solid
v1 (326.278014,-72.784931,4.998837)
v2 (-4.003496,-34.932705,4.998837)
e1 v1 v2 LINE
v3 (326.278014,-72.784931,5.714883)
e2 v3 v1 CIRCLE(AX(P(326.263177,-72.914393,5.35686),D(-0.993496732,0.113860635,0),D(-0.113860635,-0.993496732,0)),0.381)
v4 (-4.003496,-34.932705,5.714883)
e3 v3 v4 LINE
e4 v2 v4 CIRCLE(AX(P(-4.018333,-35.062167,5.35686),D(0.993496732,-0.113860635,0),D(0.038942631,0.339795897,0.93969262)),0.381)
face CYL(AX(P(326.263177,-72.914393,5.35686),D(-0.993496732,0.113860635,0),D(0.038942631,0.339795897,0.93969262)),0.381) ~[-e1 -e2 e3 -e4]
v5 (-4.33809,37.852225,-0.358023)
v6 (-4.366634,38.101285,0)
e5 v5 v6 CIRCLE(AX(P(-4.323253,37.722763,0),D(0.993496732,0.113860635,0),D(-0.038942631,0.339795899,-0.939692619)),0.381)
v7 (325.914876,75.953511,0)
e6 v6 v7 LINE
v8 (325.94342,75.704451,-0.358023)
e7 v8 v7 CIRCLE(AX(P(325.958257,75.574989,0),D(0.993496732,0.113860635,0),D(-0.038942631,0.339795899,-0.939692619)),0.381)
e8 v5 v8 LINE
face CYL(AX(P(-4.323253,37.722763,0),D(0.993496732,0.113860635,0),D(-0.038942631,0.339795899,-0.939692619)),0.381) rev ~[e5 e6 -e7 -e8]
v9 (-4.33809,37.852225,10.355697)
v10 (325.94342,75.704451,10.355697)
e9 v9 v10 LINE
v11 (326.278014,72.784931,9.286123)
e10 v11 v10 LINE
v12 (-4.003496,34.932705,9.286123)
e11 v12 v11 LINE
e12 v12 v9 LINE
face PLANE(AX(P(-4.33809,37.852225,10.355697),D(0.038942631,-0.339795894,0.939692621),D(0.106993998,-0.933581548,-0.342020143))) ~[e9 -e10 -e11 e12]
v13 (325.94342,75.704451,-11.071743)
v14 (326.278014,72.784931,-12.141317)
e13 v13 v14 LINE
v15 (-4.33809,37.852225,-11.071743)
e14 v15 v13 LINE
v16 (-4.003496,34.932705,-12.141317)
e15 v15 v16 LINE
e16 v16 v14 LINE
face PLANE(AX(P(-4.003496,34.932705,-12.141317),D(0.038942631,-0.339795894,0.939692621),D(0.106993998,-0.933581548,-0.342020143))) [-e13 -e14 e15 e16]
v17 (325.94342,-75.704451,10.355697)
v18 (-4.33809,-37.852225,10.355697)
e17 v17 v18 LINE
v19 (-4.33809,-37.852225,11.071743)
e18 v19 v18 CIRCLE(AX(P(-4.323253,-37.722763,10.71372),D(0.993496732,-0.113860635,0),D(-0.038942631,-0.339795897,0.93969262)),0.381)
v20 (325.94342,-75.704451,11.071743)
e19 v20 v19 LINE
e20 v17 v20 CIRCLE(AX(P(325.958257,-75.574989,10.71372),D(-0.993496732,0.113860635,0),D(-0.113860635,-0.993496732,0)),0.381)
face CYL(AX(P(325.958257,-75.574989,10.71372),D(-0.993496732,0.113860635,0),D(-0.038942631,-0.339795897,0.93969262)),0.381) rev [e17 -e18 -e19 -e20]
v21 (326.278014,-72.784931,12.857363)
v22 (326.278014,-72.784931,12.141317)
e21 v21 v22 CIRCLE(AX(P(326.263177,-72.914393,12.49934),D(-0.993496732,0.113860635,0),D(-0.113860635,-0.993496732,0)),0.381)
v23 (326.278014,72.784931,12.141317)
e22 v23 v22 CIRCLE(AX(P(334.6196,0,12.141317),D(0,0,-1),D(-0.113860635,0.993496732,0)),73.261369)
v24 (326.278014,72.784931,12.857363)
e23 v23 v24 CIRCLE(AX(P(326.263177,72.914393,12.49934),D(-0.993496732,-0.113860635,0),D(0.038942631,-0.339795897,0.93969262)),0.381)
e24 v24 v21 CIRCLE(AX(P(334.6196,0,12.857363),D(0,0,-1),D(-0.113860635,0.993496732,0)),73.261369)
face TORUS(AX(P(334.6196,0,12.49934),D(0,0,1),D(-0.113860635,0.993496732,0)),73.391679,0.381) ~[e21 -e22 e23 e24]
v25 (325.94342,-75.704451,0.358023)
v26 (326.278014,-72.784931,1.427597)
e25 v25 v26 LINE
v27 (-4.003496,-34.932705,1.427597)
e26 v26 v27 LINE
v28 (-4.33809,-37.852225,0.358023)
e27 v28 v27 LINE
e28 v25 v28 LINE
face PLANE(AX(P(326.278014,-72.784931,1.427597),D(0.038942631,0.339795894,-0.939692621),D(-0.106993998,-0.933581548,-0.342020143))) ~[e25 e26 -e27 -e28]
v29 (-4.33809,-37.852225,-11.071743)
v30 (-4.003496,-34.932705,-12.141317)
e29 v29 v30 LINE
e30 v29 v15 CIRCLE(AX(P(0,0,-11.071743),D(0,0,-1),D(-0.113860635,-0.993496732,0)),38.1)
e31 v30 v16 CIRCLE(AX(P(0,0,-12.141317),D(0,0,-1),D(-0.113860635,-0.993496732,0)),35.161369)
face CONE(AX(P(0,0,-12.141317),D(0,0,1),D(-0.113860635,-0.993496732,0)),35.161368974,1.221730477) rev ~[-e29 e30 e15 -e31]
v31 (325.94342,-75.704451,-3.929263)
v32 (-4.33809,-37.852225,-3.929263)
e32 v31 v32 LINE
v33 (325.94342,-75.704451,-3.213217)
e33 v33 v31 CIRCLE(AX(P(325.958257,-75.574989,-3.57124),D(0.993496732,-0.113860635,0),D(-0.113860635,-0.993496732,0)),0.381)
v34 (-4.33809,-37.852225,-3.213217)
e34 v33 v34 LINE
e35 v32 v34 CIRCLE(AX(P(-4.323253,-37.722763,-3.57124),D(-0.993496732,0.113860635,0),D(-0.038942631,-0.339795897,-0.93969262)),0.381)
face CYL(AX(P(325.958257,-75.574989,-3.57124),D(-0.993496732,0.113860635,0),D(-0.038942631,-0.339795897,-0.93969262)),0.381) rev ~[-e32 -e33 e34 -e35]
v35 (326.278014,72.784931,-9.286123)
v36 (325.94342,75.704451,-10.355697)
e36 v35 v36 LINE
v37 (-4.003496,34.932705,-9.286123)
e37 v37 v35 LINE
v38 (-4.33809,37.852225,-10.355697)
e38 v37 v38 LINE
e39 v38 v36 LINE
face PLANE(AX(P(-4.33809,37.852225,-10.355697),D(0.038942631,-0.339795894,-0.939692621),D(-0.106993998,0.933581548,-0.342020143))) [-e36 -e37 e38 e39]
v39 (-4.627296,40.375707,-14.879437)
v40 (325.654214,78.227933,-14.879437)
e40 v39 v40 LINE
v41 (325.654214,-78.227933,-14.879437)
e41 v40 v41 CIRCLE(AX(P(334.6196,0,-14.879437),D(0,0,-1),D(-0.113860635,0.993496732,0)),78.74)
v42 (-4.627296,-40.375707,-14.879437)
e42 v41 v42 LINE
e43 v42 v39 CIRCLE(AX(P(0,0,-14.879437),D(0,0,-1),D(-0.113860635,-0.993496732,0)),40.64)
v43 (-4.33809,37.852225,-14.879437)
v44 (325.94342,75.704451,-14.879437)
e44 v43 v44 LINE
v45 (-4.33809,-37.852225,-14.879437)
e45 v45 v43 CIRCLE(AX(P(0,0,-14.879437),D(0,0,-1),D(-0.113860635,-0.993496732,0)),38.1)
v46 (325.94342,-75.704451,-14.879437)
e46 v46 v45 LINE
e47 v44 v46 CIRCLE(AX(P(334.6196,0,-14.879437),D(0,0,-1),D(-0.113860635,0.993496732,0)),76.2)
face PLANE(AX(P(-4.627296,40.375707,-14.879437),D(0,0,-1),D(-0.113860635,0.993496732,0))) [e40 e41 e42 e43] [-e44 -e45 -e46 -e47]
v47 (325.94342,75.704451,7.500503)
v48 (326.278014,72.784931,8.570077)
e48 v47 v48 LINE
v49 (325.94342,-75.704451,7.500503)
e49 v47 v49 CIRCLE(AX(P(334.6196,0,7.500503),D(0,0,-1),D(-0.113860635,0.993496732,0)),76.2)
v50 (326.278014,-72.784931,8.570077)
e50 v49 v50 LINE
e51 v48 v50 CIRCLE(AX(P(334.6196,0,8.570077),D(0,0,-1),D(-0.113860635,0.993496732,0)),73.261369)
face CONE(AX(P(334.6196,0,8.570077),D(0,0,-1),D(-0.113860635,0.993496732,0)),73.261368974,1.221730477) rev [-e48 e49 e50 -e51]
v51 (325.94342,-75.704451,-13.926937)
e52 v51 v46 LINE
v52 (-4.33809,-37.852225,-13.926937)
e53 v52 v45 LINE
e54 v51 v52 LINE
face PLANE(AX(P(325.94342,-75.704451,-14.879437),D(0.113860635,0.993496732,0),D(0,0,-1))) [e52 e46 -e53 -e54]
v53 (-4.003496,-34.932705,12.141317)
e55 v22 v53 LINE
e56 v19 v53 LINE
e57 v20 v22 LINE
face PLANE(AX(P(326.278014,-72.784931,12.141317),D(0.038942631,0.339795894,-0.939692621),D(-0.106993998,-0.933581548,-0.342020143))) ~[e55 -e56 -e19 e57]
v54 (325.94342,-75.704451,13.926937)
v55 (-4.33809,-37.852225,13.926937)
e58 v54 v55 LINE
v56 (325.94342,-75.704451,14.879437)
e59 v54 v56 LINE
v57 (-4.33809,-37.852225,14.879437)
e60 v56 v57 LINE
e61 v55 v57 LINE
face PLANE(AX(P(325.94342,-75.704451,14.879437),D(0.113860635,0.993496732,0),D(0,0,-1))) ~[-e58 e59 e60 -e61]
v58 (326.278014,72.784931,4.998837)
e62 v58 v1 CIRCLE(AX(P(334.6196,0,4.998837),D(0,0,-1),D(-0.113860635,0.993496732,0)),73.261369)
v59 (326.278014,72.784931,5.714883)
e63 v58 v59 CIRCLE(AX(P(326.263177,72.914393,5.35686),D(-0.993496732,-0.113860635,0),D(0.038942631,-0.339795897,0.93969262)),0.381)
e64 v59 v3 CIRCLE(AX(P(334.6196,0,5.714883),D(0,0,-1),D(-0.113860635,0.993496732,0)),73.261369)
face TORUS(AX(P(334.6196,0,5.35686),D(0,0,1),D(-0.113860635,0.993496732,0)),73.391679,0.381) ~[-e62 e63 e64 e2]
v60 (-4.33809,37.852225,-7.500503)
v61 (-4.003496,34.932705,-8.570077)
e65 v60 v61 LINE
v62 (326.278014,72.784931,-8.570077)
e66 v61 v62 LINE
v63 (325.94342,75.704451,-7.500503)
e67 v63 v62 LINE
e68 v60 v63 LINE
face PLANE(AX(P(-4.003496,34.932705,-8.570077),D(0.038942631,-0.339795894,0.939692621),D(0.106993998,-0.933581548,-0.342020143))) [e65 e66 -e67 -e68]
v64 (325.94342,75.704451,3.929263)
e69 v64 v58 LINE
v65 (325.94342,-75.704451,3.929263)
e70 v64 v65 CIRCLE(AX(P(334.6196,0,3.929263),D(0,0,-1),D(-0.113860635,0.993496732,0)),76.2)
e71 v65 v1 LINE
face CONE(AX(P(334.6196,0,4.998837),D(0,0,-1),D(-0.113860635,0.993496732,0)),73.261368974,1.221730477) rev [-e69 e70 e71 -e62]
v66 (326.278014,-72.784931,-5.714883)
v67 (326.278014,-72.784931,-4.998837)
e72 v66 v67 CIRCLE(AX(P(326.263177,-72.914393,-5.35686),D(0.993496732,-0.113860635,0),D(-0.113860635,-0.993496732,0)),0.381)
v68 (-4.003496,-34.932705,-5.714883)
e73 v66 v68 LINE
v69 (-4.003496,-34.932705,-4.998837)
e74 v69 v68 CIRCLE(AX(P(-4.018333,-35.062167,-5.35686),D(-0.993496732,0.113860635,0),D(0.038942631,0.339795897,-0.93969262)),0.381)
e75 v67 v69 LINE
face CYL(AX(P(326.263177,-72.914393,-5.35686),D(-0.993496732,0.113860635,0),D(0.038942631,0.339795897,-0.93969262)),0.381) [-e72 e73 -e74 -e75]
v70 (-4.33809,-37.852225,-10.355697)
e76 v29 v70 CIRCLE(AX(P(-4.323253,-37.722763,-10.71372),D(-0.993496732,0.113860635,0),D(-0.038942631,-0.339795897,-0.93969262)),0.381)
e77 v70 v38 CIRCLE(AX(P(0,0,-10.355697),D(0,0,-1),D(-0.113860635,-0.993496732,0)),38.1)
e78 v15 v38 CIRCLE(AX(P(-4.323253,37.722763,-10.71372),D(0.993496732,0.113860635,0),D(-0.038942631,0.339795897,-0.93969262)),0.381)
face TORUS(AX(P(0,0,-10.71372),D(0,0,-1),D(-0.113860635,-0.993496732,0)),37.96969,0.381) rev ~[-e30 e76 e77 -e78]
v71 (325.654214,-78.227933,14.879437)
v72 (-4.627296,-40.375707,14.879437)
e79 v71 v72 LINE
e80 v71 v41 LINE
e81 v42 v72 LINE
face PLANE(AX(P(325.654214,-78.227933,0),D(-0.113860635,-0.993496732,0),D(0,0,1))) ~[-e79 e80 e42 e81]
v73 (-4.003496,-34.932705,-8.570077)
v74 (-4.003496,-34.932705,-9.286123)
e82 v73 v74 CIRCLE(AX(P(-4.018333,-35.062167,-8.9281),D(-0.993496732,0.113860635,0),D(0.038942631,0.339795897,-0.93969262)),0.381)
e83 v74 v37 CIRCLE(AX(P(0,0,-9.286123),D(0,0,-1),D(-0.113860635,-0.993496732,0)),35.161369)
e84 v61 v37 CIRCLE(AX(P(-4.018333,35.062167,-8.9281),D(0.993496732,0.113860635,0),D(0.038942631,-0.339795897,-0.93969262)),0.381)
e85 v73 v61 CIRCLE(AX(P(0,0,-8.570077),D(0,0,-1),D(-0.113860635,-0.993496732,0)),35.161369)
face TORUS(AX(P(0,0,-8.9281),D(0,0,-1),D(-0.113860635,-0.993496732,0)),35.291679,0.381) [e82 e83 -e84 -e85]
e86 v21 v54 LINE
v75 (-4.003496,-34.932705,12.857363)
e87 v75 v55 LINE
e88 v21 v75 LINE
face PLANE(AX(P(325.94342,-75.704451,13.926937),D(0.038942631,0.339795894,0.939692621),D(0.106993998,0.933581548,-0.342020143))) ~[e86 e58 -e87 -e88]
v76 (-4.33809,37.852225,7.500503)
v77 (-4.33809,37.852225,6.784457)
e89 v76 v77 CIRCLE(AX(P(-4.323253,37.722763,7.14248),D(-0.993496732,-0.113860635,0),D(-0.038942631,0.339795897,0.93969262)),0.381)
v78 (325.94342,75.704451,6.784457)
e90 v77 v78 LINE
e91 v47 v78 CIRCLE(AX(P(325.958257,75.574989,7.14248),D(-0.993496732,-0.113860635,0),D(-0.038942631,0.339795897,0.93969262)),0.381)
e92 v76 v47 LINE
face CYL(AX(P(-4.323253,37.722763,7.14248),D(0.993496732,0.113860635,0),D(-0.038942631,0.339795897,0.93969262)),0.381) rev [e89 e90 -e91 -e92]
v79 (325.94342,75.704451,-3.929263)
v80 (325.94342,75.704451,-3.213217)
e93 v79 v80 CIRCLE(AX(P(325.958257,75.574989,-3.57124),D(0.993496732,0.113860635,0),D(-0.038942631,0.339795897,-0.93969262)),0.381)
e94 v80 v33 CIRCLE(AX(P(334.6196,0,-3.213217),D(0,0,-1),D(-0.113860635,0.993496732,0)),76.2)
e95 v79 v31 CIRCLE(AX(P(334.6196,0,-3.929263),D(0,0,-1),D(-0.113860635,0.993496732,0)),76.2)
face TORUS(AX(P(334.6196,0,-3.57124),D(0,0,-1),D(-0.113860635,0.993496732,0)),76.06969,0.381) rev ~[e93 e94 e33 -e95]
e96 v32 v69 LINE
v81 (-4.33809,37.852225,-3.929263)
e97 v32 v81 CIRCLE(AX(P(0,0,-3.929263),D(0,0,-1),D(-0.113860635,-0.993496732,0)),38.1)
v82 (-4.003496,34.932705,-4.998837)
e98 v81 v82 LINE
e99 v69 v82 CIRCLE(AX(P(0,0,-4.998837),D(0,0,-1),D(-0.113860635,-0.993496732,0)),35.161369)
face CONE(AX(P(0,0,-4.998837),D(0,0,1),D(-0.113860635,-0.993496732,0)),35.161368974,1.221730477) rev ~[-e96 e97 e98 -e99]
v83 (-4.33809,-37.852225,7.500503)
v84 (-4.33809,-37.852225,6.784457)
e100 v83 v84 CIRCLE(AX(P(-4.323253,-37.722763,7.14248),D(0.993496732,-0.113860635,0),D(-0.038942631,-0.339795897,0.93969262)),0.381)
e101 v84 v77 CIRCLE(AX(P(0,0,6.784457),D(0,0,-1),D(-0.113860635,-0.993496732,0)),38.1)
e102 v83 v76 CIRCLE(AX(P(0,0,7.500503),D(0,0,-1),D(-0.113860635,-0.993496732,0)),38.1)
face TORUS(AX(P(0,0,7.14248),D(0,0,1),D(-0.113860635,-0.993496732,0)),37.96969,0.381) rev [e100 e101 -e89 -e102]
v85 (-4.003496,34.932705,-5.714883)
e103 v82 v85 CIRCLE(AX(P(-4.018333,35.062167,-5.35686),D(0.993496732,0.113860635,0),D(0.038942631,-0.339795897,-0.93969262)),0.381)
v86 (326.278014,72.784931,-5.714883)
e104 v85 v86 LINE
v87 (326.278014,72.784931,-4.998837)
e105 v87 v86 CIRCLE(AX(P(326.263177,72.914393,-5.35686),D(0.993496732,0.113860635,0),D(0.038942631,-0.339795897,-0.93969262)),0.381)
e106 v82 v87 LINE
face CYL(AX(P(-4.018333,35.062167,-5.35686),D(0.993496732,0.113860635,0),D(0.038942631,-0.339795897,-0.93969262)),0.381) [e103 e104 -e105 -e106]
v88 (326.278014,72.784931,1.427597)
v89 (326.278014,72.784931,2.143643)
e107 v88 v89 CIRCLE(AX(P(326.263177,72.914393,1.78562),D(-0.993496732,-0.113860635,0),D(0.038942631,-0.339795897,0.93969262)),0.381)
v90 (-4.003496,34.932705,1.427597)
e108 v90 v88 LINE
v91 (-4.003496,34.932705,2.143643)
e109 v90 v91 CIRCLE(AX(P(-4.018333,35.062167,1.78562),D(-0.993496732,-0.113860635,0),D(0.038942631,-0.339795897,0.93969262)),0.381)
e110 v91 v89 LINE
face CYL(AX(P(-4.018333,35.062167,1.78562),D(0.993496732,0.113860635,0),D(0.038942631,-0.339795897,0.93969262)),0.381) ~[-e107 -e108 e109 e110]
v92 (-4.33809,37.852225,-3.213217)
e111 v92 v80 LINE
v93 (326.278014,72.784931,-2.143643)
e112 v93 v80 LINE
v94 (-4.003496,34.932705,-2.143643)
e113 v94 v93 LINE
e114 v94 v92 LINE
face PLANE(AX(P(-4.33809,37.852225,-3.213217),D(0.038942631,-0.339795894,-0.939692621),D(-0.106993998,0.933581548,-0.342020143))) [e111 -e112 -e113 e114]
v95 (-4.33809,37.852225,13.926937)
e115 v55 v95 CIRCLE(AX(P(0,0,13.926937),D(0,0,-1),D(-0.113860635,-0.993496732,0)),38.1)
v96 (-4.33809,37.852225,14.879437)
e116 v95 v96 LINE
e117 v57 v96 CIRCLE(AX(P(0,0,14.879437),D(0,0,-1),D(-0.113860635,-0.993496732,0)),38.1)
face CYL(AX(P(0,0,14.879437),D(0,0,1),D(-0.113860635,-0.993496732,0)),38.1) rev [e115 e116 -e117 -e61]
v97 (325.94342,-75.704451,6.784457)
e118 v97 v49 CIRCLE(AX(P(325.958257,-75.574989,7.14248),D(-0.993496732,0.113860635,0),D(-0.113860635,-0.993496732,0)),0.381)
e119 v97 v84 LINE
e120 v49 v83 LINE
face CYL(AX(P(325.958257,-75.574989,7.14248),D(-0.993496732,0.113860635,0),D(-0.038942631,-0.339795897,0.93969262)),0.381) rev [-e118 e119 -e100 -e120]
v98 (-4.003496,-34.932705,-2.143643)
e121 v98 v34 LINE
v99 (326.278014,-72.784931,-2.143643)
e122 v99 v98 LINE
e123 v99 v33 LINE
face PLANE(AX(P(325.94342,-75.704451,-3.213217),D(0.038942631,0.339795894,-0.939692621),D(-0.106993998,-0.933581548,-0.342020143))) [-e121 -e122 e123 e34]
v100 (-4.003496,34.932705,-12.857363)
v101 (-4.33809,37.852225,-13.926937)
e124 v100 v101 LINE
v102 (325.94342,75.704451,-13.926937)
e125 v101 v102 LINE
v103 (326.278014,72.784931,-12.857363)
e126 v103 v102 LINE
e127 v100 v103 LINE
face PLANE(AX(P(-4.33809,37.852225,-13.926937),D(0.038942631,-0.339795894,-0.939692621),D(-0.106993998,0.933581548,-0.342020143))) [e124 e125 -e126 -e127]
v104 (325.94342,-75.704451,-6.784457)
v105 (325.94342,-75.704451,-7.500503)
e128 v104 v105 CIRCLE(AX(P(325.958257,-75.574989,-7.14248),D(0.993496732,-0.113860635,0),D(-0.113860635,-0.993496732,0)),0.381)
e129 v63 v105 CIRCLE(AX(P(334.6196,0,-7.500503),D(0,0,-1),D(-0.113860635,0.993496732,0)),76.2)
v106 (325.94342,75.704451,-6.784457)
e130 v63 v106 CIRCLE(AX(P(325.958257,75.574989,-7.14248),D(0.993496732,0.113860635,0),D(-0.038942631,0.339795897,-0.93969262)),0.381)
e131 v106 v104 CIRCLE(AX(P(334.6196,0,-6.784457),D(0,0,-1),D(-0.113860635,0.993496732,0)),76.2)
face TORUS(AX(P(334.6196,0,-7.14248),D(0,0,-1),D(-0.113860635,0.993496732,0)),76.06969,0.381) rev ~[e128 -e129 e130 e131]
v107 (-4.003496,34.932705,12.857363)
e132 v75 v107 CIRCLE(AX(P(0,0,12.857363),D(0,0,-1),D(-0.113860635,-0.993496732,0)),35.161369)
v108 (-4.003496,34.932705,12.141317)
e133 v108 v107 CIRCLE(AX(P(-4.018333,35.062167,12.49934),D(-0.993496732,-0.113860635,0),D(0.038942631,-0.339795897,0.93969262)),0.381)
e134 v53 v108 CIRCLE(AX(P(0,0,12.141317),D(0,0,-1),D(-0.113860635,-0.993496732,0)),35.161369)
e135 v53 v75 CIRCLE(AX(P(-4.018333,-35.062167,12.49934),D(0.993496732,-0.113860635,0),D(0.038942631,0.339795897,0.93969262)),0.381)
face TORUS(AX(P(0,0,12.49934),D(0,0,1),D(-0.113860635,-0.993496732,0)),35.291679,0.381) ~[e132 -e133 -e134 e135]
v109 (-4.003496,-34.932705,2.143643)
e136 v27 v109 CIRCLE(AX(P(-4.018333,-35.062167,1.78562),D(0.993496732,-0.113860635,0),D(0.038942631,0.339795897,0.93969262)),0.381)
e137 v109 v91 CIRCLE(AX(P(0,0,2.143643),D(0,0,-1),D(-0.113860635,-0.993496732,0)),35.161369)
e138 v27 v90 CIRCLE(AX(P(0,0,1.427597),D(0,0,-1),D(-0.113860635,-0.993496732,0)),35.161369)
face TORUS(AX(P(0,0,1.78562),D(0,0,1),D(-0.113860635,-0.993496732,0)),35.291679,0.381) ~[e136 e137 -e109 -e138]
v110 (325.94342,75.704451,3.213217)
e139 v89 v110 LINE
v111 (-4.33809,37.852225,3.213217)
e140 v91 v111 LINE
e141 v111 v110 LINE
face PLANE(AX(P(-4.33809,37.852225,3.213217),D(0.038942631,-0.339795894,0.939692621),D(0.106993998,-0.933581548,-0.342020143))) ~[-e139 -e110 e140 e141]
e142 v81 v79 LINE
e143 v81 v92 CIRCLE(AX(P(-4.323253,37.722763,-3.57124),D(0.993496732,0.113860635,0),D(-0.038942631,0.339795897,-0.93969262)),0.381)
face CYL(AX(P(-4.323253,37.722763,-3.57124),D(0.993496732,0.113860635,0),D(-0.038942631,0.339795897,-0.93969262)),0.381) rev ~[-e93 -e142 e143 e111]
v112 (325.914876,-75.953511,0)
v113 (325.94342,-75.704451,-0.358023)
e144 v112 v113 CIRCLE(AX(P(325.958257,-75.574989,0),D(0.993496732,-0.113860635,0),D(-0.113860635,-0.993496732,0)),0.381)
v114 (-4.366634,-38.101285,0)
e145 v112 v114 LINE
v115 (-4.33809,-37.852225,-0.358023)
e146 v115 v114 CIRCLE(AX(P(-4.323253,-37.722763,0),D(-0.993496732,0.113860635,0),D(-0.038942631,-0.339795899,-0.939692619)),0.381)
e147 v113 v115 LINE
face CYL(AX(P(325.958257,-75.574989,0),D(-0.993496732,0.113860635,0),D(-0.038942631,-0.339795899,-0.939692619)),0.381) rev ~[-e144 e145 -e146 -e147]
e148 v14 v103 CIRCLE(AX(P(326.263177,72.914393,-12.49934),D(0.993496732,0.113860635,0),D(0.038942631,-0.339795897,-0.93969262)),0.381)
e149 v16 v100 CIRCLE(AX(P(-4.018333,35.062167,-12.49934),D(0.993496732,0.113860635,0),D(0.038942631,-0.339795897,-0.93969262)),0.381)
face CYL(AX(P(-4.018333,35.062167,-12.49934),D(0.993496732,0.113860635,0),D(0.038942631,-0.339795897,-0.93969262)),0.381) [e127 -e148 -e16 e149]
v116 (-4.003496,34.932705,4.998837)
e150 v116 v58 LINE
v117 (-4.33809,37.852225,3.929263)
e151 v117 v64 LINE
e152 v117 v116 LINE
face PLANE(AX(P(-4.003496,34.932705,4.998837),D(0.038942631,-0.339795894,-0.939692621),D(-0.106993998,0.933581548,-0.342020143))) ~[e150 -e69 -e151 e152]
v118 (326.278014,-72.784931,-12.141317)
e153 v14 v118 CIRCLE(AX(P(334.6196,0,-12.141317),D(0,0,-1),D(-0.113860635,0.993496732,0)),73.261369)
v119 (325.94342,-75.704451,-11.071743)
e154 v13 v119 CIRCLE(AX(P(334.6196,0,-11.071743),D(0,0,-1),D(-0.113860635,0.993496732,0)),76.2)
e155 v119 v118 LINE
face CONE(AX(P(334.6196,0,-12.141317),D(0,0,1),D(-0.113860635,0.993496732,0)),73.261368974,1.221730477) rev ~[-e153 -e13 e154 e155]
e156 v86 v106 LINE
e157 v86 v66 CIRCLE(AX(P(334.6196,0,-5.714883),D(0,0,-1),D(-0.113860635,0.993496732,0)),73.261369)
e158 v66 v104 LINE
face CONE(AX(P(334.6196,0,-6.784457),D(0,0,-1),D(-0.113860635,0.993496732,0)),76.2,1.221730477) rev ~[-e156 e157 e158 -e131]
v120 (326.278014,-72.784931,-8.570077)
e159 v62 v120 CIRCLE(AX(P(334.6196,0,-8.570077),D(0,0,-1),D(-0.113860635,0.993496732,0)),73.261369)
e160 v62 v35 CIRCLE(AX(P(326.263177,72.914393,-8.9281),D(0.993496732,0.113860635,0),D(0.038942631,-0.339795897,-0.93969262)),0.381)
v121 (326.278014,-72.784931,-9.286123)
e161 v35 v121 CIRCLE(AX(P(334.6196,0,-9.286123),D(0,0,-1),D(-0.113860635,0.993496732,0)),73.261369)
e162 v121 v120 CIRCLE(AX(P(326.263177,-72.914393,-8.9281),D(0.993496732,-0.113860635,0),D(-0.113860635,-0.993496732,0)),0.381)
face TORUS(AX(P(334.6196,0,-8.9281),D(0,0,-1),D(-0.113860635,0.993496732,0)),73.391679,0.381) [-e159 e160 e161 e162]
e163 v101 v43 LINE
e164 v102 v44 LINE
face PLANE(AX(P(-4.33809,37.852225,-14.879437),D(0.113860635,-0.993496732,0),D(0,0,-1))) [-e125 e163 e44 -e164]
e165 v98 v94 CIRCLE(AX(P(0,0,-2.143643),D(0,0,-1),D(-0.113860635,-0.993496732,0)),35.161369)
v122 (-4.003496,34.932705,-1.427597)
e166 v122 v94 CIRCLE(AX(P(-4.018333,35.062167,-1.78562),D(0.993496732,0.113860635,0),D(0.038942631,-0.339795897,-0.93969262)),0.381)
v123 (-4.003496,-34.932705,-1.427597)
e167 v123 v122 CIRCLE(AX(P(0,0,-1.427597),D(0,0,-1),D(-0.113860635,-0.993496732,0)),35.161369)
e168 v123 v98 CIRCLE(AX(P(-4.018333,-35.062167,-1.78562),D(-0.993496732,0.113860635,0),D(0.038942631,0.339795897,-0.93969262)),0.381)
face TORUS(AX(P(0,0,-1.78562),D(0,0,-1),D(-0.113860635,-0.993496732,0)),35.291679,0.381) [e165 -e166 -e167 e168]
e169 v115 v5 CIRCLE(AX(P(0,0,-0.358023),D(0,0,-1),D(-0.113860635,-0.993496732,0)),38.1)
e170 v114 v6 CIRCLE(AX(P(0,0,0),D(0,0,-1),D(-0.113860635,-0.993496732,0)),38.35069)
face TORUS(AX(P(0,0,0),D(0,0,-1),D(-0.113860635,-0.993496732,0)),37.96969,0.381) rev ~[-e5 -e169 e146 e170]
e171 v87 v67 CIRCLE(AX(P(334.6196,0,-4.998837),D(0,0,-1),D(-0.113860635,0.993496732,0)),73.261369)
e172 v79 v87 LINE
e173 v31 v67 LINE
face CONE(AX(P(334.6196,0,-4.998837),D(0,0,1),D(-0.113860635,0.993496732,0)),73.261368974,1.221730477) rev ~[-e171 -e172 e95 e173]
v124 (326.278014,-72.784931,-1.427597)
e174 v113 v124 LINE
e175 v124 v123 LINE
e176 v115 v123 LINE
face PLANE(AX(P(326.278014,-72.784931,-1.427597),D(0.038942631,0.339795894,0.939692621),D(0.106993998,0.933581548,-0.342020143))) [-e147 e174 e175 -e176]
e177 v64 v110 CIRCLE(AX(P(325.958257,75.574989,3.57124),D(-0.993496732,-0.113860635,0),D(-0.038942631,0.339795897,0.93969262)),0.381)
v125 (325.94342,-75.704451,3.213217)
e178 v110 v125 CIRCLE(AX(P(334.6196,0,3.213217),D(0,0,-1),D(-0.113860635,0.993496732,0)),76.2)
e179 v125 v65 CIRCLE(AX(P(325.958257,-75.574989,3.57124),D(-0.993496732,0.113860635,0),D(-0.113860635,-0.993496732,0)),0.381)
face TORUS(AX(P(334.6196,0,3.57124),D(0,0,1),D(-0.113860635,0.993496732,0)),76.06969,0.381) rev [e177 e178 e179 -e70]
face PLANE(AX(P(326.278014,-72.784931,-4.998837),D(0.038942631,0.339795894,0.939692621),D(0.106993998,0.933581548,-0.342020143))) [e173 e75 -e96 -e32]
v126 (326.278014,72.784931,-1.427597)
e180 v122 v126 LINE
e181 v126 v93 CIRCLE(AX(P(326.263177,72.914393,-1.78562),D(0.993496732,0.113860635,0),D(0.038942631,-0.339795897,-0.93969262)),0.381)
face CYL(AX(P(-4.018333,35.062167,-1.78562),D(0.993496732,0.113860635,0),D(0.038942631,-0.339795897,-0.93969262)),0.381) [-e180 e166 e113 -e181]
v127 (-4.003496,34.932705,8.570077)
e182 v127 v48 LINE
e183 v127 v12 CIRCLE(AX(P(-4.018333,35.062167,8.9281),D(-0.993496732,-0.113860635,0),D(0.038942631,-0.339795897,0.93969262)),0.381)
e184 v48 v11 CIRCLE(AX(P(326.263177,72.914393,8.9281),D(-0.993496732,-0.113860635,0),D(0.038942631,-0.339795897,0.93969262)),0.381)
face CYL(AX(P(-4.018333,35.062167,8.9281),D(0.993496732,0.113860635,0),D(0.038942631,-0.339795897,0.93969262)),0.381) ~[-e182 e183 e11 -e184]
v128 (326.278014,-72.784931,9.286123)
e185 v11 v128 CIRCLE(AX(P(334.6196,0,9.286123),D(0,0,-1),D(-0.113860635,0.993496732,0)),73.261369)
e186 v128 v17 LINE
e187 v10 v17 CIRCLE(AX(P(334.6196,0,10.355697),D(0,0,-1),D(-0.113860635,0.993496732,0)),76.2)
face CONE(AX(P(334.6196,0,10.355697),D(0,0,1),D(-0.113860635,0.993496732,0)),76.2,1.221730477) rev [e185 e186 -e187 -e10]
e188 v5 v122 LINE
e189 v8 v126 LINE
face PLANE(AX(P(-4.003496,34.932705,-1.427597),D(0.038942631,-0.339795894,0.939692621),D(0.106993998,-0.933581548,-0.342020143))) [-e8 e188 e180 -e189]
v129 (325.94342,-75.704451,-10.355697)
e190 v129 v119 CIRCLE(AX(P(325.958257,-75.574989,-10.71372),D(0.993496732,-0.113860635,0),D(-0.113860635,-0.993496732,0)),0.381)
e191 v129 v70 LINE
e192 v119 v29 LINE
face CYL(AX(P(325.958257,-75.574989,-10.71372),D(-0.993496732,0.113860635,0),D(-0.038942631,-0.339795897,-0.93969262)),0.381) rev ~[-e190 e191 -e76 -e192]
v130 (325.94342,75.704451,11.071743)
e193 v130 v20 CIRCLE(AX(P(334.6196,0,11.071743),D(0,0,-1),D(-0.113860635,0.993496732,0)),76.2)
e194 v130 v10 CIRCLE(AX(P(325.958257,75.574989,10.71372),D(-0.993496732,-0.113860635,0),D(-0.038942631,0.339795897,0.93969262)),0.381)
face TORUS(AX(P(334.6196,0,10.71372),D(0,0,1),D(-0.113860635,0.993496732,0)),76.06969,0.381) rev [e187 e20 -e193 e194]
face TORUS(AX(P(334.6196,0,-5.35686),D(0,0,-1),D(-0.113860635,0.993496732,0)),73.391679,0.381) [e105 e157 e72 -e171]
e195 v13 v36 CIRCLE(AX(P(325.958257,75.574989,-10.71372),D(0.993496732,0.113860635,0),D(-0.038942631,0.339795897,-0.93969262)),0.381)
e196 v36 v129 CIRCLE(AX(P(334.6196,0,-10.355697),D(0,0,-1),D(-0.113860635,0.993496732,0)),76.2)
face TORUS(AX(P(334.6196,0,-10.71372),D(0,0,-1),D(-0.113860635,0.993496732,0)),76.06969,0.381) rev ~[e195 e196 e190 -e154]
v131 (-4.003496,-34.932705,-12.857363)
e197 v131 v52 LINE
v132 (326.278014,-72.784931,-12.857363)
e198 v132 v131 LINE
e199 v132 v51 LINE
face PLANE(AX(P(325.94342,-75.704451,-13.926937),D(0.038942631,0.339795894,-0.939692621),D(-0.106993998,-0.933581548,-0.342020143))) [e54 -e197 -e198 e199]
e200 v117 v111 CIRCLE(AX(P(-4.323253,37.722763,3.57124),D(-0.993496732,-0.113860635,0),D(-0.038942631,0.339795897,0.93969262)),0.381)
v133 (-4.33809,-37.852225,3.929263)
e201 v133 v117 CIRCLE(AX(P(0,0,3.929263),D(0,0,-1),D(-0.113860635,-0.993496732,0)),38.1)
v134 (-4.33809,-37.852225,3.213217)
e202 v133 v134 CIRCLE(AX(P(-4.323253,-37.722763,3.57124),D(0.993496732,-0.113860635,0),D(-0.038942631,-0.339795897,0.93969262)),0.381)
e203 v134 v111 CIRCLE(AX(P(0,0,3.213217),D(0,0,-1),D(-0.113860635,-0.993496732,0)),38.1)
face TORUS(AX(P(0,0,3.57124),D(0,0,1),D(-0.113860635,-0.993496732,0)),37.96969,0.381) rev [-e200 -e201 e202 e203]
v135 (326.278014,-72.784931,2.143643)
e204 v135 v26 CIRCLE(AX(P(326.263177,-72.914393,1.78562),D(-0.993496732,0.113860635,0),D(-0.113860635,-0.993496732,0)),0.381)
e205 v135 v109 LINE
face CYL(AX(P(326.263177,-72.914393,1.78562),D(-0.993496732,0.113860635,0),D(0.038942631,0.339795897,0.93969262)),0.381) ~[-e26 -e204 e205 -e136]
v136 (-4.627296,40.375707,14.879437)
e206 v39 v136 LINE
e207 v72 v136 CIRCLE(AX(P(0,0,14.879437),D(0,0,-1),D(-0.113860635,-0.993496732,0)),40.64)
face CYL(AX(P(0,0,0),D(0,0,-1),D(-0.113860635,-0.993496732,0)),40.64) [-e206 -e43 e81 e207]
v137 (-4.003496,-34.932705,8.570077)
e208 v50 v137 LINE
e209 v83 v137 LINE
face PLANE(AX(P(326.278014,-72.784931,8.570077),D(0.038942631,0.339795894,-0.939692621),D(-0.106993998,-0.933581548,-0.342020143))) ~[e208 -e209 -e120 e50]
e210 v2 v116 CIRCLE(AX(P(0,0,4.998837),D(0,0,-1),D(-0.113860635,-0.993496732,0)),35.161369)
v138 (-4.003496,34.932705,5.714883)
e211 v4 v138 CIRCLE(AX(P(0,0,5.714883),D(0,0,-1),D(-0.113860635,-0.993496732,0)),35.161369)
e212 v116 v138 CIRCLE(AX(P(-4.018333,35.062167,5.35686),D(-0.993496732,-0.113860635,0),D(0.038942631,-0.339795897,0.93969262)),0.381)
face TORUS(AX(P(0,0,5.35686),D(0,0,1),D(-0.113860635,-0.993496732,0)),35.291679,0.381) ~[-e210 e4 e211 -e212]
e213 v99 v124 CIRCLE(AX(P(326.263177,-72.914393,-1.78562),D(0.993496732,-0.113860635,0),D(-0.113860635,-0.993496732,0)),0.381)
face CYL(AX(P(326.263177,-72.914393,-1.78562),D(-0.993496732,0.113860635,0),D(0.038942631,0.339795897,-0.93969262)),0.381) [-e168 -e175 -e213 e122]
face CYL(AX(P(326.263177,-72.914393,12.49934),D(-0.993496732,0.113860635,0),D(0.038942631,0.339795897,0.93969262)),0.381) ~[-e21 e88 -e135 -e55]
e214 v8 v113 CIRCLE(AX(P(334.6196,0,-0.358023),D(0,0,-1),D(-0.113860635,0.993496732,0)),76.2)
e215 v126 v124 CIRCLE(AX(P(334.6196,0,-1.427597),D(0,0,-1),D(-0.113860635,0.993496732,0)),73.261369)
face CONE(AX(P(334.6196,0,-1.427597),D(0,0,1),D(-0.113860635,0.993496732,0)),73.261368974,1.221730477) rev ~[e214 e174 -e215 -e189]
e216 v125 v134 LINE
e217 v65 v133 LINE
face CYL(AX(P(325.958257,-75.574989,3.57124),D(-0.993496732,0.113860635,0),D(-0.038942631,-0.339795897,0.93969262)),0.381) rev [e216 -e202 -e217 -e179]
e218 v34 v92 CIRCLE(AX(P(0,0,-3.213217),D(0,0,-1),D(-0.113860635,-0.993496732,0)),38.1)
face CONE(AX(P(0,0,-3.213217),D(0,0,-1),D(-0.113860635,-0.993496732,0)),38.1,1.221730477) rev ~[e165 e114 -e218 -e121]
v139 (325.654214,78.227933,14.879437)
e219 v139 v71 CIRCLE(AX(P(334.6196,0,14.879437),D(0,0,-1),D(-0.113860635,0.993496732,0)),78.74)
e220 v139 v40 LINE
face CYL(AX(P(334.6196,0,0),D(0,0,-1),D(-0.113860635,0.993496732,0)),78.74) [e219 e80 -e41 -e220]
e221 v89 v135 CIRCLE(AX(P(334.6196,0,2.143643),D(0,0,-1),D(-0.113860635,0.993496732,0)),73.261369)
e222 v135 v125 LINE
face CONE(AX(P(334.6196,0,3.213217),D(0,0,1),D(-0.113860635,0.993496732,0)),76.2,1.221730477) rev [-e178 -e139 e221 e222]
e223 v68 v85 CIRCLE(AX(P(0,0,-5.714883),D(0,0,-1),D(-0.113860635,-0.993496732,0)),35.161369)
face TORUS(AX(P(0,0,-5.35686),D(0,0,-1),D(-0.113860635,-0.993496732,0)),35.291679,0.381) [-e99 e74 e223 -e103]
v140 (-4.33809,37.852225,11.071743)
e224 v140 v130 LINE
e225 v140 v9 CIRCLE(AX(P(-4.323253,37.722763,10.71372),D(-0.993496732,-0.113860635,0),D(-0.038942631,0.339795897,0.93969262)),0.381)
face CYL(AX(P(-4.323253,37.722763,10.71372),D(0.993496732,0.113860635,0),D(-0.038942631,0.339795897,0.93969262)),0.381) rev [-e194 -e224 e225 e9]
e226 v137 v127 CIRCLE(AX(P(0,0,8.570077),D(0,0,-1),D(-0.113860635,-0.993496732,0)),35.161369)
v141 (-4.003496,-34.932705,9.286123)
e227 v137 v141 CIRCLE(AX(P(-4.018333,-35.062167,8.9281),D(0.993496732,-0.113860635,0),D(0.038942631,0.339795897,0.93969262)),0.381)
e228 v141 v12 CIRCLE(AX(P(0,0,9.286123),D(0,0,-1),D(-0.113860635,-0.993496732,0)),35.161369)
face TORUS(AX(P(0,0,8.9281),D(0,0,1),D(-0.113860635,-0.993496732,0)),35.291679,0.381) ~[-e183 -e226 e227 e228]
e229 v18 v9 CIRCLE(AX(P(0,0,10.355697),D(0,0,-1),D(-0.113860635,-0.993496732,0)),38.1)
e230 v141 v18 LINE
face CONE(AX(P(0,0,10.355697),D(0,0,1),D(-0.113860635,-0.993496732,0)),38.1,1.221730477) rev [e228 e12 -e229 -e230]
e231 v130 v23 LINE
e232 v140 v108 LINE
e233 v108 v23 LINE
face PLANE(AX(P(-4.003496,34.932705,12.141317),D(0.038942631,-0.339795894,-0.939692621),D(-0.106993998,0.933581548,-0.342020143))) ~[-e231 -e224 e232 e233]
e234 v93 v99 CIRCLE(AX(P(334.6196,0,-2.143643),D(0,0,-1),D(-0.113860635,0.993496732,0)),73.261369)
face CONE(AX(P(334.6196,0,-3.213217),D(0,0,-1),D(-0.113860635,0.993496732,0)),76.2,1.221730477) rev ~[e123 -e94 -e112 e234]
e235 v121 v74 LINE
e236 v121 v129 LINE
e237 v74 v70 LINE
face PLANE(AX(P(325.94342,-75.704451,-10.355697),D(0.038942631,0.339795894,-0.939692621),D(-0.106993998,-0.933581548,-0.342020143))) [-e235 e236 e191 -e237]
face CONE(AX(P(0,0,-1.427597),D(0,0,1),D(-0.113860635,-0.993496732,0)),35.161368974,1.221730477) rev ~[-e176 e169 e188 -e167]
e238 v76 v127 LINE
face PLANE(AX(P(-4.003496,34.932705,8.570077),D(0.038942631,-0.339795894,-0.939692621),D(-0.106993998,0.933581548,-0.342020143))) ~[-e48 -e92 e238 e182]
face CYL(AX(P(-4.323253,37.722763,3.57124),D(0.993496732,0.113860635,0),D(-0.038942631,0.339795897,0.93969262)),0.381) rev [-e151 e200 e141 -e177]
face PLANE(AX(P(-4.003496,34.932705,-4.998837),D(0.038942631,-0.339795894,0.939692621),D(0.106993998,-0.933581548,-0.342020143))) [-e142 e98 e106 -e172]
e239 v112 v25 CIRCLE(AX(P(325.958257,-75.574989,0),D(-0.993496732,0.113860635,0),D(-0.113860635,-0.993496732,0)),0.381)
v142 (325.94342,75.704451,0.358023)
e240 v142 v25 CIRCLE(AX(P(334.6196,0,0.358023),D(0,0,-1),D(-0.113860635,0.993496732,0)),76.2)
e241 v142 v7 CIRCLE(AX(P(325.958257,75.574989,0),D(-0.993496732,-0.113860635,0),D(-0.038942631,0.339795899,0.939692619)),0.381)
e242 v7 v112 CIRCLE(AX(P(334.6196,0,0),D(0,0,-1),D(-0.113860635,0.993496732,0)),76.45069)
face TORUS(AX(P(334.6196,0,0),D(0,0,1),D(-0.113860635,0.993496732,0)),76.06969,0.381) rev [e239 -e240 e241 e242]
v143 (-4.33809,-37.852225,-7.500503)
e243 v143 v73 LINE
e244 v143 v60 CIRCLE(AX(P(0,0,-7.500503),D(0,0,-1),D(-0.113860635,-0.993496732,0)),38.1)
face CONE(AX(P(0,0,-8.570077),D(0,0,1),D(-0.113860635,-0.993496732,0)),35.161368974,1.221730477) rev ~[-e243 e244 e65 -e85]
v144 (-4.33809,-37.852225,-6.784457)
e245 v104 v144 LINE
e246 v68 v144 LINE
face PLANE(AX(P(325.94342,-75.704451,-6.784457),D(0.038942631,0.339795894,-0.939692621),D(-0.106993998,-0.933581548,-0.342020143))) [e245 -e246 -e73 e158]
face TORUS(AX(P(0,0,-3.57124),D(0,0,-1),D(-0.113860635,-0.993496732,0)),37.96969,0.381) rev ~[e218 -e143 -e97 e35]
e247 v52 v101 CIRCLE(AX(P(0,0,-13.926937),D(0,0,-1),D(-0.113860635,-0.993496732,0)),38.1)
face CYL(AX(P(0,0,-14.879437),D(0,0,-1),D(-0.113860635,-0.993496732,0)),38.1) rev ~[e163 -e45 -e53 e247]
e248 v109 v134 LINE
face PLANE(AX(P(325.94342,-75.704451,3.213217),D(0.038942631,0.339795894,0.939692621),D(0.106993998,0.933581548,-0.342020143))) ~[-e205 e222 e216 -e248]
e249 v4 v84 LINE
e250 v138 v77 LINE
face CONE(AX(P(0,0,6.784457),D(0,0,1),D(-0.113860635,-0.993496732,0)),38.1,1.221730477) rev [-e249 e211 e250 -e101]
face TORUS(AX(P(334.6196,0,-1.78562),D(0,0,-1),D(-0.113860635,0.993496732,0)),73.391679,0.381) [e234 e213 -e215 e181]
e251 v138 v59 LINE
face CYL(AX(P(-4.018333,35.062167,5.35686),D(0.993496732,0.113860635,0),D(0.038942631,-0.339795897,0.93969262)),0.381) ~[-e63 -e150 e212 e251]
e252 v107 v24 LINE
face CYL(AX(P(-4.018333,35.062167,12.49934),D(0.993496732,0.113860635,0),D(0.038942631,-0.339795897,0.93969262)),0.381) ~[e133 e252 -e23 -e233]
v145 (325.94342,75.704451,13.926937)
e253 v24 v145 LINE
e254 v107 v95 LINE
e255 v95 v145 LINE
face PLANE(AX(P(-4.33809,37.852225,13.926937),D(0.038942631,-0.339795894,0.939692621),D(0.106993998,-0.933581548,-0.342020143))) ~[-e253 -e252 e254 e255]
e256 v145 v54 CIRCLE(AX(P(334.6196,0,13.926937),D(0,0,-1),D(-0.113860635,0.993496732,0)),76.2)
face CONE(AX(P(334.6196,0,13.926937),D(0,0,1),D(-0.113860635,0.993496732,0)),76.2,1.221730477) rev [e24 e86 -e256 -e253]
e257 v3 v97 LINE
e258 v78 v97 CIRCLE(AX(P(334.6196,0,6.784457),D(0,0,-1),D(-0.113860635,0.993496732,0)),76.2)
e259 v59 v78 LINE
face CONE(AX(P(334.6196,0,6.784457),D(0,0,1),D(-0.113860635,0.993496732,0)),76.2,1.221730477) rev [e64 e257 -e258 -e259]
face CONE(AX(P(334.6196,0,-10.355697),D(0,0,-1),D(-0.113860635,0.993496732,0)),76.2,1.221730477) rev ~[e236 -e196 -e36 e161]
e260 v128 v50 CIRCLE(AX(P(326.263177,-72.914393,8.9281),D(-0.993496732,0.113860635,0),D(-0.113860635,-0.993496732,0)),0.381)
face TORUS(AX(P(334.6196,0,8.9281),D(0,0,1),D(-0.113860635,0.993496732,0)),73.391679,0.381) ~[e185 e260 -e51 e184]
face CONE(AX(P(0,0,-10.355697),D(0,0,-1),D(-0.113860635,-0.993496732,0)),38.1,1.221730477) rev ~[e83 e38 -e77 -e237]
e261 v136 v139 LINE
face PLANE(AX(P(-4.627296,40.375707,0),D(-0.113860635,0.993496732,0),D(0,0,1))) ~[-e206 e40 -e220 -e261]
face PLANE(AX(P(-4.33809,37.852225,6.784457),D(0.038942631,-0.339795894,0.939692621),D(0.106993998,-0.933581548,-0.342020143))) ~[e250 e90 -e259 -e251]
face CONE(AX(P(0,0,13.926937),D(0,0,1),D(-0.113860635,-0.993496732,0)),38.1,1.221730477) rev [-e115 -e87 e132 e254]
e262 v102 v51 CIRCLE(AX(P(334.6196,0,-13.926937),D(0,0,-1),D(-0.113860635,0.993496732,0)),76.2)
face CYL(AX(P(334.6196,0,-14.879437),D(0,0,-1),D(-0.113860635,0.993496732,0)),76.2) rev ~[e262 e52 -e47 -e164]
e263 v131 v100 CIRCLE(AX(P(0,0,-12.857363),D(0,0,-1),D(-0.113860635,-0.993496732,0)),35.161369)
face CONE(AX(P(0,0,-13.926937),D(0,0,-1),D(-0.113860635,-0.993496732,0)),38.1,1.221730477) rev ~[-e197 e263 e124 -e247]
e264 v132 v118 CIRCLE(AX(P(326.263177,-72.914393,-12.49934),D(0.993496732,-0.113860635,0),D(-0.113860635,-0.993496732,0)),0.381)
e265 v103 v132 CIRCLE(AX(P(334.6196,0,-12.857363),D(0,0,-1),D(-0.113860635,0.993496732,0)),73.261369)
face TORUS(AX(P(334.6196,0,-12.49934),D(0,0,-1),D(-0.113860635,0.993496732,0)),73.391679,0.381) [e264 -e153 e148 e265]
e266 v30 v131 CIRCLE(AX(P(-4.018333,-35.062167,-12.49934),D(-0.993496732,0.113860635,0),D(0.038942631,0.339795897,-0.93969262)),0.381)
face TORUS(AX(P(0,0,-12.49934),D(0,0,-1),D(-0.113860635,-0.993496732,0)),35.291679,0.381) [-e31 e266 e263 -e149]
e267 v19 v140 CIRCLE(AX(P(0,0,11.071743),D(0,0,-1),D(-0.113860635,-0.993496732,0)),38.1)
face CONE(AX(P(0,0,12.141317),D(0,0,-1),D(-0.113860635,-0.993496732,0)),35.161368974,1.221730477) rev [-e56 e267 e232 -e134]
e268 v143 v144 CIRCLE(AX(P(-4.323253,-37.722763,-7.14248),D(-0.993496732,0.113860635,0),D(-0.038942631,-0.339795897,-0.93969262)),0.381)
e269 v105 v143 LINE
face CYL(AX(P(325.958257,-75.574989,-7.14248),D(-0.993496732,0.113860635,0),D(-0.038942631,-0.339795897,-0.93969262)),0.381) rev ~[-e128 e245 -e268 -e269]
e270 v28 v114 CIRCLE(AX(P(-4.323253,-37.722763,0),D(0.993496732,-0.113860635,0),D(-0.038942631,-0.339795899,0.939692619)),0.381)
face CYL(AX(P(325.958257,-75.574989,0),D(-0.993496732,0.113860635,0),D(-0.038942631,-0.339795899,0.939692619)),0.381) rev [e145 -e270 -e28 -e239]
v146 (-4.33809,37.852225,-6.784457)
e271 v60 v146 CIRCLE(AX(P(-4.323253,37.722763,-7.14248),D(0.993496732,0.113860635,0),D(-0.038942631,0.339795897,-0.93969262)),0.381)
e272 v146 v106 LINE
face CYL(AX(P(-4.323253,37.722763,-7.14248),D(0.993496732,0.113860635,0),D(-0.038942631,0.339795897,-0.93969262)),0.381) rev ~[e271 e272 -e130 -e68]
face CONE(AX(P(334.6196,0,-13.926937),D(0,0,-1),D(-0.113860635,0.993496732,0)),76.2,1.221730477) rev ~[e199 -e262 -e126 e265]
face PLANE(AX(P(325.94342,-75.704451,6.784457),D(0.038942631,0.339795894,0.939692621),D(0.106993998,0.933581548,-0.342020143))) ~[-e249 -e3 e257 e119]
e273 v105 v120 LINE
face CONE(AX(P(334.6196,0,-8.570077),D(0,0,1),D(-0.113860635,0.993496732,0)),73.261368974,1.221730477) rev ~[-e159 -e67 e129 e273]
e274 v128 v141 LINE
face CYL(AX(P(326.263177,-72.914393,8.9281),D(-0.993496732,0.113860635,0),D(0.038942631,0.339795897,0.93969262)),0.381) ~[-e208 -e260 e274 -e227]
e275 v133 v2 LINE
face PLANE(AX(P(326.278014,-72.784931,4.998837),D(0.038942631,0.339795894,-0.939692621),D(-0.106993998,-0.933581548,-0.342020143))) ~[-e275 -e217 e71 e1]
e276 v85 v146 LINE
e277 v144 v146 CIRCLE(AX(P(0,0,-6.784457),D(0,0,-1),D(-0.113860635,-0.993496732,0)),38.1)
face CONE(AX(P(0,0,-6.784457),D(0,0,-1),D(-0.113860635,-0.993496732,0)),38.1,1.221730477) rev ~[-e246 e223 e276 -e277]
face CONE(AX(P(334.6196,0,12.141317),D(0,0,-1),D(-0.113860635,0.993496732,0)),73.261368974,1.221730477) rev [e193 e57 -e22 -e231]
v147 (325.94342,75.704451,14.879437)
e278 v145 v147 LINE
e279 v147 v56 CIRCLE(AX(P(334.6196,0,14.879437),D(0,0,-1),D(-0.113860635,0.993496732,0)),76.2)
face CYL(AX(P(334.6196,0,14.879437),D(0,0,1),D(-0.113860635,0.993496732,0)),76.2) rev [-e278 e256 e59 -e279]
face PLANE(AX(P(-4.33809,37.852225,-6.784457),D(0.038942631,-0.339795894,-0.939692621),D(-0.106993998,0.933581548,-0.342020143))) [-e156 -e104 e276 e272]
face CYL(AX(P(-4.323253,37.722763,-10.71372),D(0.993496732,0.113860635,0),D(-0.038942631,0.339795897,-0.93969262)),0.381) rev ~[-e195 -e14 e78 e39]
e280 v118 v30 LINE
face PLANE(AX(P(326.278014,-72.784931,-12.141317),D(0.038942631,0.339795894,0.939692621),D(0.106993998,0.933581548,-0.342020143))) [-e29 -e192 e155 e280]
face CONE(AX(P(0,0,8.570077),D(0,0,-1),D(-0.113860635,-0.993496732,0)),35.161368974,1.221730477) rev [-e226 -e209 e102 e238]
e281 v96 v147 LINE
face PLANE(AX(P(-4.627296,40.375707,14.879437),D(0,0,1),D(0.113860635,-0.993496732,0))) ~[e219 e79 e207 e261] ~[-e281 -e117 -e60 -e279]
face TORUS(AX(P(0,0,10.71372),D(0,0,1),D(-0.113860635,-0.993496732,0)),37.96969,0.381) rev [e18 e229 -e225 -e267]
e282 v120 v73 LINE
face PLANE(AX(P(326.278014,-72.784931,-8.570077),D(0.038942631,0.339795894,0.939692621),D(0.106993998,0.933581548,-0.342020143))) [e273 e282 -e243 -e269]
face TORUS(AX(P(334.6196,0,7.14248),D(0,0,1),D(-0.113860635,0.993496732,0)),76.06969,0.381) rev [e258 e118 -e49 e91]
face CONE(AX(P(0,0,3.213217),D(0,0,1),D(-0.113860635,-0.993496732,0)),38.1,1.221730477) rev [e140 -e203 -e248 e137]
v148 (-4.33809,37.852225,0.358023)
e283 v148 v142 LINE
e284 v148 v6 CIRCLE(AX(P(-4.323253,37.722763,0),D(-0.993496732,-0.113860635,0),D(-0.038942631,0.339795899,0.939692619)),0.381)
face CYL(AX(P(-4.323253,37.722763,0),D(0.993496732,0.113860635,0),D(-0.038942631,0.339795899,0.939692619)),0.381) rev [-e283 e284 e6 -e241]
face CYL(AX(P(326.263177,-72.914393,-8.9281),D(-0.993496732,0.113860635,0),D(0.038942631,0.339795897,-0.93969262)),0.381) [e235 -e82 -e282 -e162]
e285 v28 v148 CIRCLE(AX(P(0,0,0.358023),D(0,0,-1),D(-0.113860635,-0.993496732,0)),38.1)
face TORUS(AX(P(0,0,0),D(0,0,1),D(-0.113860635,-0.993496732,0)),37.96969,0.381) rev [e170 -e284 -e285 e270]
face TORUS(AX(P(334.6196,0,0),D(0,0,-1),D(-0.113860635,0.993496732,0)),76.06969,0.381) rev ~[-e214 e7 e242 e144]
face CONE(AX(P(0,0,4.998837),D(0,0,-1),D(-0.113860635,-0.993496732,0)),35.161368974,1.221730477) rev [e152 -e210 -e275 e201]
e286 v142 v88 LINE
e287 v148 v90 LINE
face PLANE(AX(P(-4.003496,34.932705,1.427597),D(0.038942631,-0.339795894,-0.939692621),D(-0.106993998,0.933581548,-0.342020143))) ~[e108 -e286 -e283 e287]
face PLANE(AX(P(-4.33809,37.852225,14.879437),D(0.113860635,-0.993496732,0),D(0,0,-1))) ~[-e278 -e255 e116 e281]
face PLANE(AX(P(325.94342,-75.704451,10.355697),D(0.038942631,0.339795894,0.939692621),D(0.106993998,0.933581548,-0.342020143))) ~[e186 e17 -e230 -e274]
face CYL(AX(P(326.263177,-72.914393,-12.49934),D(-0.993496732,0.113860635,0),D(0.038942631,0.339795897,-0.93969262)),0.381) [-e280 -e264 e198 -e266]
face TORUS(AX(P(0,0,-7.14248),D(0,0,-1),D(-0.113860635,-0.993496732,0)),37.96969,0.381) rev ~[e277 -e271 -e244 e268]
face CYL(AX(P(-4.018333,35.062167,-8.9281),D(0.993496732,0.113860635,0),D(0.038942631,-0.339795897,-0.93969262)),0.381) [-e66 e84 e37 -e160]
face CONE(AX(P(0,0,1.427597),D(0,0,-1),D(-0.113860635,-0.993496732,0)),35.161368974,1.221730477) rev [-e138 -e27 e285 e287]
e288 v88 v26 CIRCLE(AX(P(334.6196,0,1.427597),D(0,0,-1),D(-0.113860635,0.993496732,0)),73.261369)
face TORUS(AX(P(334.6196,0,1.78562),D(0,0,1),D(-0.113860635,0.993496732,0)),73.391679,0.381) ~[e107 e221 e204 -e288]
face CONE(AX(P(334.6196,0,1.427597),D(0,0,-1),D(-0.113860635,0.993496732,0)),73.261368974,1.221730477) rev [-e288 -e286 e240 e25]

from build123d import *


with BuildPart() as part:
    # Sweep1: sweep along a path in Sketch1
    with BuildLine(Plane.XY) as sweep1_path:
        Line((-4.338090178, 37.852225478), (325.943419645, 75.704450955))
        ThreePointArc((325.943419645, 75.704450955), (410.8196, 0), (325.943419645, -75.704450955))
        Line((325.943419645, -75.704450955), (-4.338090178, -37.852225478))
        ThreePointArc((-4.338090178, -37.852225478), (-38.1, 0), (-4.338090178, 37.852225478))
    # Sketch2 → Sweep1 (sweep)
    with BuildSketch(Plane(origin=(-4.338090178, 37.852225478, 0), x_dir=(0, 0, -1), z_dir=(0.993496731696836, 0.11386063458327017, 0))):
        with BuildLine():
            Line((0, 2.54), (14.879437111, 2.54))
            Line((14.879437111, 2.54), (14.879437111, 0))
            Line((14.879437111, 0), (13.926937111, 0))
            Line((13.926937111, 0), (12.857362889, -2.938631026))
            ThreePointArc((12.857362889, -2.938631026), (12.49934, -3.189321351), (12.141317111, -2.938631026))
            Line((12.141317111, -2.938631026), (11.071742889, 0))
            ThreePointArc((11.071742889, 0), (10.71372, 0.250690325), (10.355697111, 0))
            Line((10.355697111, 0), (9.286122889, -2.938631026))
            ThreePointArc((9.286122889, -2.938631026), (8.9281, -3.189321351), (8.570077111, -2.938631026))
            Line((8.570077111, -2.938631026), (7.500502889, 0))
            ThreePointArc((7.500502889, 0), (7.14248, 0.250690325), (6.784457111, 0))
            Line((6.784457111, 0), (5.714882889, -2.938631026))
            ThreePointArc((5.714882889, -2.938631026), (5.35686, -3.189321351), (4.998837111, -2.938631026))
            Line((4.998837111, -2.938631026), (3.929262889, 0))
            ThreePointArc((3.929262889, 0), (3.57124, 0.250690325), (3.213217111, 0))
            Line((3.213217111, 0), (2.143642889, -2.938631026))
            ThreePointArc((2.143642889, -2.938631026), (1.78562, -3.189321351), (1.427597111, -2.938631026))
            Line((1.427597111, -2.938631026), (0.358022889, 0))
            ThreePointArc((0.358022889, 0), (0.218532622, 0.181787254), (0, 0.250690325))
            Line((0, 0.250690325), (0, 2.54))
        make_face()
    sweep1 = sweep(path=sweep1_path.line)

    # Mirror1: Sweep1 across Front Plane
    add(sweep1.mirror(Plane.XY))


solid = part.part
